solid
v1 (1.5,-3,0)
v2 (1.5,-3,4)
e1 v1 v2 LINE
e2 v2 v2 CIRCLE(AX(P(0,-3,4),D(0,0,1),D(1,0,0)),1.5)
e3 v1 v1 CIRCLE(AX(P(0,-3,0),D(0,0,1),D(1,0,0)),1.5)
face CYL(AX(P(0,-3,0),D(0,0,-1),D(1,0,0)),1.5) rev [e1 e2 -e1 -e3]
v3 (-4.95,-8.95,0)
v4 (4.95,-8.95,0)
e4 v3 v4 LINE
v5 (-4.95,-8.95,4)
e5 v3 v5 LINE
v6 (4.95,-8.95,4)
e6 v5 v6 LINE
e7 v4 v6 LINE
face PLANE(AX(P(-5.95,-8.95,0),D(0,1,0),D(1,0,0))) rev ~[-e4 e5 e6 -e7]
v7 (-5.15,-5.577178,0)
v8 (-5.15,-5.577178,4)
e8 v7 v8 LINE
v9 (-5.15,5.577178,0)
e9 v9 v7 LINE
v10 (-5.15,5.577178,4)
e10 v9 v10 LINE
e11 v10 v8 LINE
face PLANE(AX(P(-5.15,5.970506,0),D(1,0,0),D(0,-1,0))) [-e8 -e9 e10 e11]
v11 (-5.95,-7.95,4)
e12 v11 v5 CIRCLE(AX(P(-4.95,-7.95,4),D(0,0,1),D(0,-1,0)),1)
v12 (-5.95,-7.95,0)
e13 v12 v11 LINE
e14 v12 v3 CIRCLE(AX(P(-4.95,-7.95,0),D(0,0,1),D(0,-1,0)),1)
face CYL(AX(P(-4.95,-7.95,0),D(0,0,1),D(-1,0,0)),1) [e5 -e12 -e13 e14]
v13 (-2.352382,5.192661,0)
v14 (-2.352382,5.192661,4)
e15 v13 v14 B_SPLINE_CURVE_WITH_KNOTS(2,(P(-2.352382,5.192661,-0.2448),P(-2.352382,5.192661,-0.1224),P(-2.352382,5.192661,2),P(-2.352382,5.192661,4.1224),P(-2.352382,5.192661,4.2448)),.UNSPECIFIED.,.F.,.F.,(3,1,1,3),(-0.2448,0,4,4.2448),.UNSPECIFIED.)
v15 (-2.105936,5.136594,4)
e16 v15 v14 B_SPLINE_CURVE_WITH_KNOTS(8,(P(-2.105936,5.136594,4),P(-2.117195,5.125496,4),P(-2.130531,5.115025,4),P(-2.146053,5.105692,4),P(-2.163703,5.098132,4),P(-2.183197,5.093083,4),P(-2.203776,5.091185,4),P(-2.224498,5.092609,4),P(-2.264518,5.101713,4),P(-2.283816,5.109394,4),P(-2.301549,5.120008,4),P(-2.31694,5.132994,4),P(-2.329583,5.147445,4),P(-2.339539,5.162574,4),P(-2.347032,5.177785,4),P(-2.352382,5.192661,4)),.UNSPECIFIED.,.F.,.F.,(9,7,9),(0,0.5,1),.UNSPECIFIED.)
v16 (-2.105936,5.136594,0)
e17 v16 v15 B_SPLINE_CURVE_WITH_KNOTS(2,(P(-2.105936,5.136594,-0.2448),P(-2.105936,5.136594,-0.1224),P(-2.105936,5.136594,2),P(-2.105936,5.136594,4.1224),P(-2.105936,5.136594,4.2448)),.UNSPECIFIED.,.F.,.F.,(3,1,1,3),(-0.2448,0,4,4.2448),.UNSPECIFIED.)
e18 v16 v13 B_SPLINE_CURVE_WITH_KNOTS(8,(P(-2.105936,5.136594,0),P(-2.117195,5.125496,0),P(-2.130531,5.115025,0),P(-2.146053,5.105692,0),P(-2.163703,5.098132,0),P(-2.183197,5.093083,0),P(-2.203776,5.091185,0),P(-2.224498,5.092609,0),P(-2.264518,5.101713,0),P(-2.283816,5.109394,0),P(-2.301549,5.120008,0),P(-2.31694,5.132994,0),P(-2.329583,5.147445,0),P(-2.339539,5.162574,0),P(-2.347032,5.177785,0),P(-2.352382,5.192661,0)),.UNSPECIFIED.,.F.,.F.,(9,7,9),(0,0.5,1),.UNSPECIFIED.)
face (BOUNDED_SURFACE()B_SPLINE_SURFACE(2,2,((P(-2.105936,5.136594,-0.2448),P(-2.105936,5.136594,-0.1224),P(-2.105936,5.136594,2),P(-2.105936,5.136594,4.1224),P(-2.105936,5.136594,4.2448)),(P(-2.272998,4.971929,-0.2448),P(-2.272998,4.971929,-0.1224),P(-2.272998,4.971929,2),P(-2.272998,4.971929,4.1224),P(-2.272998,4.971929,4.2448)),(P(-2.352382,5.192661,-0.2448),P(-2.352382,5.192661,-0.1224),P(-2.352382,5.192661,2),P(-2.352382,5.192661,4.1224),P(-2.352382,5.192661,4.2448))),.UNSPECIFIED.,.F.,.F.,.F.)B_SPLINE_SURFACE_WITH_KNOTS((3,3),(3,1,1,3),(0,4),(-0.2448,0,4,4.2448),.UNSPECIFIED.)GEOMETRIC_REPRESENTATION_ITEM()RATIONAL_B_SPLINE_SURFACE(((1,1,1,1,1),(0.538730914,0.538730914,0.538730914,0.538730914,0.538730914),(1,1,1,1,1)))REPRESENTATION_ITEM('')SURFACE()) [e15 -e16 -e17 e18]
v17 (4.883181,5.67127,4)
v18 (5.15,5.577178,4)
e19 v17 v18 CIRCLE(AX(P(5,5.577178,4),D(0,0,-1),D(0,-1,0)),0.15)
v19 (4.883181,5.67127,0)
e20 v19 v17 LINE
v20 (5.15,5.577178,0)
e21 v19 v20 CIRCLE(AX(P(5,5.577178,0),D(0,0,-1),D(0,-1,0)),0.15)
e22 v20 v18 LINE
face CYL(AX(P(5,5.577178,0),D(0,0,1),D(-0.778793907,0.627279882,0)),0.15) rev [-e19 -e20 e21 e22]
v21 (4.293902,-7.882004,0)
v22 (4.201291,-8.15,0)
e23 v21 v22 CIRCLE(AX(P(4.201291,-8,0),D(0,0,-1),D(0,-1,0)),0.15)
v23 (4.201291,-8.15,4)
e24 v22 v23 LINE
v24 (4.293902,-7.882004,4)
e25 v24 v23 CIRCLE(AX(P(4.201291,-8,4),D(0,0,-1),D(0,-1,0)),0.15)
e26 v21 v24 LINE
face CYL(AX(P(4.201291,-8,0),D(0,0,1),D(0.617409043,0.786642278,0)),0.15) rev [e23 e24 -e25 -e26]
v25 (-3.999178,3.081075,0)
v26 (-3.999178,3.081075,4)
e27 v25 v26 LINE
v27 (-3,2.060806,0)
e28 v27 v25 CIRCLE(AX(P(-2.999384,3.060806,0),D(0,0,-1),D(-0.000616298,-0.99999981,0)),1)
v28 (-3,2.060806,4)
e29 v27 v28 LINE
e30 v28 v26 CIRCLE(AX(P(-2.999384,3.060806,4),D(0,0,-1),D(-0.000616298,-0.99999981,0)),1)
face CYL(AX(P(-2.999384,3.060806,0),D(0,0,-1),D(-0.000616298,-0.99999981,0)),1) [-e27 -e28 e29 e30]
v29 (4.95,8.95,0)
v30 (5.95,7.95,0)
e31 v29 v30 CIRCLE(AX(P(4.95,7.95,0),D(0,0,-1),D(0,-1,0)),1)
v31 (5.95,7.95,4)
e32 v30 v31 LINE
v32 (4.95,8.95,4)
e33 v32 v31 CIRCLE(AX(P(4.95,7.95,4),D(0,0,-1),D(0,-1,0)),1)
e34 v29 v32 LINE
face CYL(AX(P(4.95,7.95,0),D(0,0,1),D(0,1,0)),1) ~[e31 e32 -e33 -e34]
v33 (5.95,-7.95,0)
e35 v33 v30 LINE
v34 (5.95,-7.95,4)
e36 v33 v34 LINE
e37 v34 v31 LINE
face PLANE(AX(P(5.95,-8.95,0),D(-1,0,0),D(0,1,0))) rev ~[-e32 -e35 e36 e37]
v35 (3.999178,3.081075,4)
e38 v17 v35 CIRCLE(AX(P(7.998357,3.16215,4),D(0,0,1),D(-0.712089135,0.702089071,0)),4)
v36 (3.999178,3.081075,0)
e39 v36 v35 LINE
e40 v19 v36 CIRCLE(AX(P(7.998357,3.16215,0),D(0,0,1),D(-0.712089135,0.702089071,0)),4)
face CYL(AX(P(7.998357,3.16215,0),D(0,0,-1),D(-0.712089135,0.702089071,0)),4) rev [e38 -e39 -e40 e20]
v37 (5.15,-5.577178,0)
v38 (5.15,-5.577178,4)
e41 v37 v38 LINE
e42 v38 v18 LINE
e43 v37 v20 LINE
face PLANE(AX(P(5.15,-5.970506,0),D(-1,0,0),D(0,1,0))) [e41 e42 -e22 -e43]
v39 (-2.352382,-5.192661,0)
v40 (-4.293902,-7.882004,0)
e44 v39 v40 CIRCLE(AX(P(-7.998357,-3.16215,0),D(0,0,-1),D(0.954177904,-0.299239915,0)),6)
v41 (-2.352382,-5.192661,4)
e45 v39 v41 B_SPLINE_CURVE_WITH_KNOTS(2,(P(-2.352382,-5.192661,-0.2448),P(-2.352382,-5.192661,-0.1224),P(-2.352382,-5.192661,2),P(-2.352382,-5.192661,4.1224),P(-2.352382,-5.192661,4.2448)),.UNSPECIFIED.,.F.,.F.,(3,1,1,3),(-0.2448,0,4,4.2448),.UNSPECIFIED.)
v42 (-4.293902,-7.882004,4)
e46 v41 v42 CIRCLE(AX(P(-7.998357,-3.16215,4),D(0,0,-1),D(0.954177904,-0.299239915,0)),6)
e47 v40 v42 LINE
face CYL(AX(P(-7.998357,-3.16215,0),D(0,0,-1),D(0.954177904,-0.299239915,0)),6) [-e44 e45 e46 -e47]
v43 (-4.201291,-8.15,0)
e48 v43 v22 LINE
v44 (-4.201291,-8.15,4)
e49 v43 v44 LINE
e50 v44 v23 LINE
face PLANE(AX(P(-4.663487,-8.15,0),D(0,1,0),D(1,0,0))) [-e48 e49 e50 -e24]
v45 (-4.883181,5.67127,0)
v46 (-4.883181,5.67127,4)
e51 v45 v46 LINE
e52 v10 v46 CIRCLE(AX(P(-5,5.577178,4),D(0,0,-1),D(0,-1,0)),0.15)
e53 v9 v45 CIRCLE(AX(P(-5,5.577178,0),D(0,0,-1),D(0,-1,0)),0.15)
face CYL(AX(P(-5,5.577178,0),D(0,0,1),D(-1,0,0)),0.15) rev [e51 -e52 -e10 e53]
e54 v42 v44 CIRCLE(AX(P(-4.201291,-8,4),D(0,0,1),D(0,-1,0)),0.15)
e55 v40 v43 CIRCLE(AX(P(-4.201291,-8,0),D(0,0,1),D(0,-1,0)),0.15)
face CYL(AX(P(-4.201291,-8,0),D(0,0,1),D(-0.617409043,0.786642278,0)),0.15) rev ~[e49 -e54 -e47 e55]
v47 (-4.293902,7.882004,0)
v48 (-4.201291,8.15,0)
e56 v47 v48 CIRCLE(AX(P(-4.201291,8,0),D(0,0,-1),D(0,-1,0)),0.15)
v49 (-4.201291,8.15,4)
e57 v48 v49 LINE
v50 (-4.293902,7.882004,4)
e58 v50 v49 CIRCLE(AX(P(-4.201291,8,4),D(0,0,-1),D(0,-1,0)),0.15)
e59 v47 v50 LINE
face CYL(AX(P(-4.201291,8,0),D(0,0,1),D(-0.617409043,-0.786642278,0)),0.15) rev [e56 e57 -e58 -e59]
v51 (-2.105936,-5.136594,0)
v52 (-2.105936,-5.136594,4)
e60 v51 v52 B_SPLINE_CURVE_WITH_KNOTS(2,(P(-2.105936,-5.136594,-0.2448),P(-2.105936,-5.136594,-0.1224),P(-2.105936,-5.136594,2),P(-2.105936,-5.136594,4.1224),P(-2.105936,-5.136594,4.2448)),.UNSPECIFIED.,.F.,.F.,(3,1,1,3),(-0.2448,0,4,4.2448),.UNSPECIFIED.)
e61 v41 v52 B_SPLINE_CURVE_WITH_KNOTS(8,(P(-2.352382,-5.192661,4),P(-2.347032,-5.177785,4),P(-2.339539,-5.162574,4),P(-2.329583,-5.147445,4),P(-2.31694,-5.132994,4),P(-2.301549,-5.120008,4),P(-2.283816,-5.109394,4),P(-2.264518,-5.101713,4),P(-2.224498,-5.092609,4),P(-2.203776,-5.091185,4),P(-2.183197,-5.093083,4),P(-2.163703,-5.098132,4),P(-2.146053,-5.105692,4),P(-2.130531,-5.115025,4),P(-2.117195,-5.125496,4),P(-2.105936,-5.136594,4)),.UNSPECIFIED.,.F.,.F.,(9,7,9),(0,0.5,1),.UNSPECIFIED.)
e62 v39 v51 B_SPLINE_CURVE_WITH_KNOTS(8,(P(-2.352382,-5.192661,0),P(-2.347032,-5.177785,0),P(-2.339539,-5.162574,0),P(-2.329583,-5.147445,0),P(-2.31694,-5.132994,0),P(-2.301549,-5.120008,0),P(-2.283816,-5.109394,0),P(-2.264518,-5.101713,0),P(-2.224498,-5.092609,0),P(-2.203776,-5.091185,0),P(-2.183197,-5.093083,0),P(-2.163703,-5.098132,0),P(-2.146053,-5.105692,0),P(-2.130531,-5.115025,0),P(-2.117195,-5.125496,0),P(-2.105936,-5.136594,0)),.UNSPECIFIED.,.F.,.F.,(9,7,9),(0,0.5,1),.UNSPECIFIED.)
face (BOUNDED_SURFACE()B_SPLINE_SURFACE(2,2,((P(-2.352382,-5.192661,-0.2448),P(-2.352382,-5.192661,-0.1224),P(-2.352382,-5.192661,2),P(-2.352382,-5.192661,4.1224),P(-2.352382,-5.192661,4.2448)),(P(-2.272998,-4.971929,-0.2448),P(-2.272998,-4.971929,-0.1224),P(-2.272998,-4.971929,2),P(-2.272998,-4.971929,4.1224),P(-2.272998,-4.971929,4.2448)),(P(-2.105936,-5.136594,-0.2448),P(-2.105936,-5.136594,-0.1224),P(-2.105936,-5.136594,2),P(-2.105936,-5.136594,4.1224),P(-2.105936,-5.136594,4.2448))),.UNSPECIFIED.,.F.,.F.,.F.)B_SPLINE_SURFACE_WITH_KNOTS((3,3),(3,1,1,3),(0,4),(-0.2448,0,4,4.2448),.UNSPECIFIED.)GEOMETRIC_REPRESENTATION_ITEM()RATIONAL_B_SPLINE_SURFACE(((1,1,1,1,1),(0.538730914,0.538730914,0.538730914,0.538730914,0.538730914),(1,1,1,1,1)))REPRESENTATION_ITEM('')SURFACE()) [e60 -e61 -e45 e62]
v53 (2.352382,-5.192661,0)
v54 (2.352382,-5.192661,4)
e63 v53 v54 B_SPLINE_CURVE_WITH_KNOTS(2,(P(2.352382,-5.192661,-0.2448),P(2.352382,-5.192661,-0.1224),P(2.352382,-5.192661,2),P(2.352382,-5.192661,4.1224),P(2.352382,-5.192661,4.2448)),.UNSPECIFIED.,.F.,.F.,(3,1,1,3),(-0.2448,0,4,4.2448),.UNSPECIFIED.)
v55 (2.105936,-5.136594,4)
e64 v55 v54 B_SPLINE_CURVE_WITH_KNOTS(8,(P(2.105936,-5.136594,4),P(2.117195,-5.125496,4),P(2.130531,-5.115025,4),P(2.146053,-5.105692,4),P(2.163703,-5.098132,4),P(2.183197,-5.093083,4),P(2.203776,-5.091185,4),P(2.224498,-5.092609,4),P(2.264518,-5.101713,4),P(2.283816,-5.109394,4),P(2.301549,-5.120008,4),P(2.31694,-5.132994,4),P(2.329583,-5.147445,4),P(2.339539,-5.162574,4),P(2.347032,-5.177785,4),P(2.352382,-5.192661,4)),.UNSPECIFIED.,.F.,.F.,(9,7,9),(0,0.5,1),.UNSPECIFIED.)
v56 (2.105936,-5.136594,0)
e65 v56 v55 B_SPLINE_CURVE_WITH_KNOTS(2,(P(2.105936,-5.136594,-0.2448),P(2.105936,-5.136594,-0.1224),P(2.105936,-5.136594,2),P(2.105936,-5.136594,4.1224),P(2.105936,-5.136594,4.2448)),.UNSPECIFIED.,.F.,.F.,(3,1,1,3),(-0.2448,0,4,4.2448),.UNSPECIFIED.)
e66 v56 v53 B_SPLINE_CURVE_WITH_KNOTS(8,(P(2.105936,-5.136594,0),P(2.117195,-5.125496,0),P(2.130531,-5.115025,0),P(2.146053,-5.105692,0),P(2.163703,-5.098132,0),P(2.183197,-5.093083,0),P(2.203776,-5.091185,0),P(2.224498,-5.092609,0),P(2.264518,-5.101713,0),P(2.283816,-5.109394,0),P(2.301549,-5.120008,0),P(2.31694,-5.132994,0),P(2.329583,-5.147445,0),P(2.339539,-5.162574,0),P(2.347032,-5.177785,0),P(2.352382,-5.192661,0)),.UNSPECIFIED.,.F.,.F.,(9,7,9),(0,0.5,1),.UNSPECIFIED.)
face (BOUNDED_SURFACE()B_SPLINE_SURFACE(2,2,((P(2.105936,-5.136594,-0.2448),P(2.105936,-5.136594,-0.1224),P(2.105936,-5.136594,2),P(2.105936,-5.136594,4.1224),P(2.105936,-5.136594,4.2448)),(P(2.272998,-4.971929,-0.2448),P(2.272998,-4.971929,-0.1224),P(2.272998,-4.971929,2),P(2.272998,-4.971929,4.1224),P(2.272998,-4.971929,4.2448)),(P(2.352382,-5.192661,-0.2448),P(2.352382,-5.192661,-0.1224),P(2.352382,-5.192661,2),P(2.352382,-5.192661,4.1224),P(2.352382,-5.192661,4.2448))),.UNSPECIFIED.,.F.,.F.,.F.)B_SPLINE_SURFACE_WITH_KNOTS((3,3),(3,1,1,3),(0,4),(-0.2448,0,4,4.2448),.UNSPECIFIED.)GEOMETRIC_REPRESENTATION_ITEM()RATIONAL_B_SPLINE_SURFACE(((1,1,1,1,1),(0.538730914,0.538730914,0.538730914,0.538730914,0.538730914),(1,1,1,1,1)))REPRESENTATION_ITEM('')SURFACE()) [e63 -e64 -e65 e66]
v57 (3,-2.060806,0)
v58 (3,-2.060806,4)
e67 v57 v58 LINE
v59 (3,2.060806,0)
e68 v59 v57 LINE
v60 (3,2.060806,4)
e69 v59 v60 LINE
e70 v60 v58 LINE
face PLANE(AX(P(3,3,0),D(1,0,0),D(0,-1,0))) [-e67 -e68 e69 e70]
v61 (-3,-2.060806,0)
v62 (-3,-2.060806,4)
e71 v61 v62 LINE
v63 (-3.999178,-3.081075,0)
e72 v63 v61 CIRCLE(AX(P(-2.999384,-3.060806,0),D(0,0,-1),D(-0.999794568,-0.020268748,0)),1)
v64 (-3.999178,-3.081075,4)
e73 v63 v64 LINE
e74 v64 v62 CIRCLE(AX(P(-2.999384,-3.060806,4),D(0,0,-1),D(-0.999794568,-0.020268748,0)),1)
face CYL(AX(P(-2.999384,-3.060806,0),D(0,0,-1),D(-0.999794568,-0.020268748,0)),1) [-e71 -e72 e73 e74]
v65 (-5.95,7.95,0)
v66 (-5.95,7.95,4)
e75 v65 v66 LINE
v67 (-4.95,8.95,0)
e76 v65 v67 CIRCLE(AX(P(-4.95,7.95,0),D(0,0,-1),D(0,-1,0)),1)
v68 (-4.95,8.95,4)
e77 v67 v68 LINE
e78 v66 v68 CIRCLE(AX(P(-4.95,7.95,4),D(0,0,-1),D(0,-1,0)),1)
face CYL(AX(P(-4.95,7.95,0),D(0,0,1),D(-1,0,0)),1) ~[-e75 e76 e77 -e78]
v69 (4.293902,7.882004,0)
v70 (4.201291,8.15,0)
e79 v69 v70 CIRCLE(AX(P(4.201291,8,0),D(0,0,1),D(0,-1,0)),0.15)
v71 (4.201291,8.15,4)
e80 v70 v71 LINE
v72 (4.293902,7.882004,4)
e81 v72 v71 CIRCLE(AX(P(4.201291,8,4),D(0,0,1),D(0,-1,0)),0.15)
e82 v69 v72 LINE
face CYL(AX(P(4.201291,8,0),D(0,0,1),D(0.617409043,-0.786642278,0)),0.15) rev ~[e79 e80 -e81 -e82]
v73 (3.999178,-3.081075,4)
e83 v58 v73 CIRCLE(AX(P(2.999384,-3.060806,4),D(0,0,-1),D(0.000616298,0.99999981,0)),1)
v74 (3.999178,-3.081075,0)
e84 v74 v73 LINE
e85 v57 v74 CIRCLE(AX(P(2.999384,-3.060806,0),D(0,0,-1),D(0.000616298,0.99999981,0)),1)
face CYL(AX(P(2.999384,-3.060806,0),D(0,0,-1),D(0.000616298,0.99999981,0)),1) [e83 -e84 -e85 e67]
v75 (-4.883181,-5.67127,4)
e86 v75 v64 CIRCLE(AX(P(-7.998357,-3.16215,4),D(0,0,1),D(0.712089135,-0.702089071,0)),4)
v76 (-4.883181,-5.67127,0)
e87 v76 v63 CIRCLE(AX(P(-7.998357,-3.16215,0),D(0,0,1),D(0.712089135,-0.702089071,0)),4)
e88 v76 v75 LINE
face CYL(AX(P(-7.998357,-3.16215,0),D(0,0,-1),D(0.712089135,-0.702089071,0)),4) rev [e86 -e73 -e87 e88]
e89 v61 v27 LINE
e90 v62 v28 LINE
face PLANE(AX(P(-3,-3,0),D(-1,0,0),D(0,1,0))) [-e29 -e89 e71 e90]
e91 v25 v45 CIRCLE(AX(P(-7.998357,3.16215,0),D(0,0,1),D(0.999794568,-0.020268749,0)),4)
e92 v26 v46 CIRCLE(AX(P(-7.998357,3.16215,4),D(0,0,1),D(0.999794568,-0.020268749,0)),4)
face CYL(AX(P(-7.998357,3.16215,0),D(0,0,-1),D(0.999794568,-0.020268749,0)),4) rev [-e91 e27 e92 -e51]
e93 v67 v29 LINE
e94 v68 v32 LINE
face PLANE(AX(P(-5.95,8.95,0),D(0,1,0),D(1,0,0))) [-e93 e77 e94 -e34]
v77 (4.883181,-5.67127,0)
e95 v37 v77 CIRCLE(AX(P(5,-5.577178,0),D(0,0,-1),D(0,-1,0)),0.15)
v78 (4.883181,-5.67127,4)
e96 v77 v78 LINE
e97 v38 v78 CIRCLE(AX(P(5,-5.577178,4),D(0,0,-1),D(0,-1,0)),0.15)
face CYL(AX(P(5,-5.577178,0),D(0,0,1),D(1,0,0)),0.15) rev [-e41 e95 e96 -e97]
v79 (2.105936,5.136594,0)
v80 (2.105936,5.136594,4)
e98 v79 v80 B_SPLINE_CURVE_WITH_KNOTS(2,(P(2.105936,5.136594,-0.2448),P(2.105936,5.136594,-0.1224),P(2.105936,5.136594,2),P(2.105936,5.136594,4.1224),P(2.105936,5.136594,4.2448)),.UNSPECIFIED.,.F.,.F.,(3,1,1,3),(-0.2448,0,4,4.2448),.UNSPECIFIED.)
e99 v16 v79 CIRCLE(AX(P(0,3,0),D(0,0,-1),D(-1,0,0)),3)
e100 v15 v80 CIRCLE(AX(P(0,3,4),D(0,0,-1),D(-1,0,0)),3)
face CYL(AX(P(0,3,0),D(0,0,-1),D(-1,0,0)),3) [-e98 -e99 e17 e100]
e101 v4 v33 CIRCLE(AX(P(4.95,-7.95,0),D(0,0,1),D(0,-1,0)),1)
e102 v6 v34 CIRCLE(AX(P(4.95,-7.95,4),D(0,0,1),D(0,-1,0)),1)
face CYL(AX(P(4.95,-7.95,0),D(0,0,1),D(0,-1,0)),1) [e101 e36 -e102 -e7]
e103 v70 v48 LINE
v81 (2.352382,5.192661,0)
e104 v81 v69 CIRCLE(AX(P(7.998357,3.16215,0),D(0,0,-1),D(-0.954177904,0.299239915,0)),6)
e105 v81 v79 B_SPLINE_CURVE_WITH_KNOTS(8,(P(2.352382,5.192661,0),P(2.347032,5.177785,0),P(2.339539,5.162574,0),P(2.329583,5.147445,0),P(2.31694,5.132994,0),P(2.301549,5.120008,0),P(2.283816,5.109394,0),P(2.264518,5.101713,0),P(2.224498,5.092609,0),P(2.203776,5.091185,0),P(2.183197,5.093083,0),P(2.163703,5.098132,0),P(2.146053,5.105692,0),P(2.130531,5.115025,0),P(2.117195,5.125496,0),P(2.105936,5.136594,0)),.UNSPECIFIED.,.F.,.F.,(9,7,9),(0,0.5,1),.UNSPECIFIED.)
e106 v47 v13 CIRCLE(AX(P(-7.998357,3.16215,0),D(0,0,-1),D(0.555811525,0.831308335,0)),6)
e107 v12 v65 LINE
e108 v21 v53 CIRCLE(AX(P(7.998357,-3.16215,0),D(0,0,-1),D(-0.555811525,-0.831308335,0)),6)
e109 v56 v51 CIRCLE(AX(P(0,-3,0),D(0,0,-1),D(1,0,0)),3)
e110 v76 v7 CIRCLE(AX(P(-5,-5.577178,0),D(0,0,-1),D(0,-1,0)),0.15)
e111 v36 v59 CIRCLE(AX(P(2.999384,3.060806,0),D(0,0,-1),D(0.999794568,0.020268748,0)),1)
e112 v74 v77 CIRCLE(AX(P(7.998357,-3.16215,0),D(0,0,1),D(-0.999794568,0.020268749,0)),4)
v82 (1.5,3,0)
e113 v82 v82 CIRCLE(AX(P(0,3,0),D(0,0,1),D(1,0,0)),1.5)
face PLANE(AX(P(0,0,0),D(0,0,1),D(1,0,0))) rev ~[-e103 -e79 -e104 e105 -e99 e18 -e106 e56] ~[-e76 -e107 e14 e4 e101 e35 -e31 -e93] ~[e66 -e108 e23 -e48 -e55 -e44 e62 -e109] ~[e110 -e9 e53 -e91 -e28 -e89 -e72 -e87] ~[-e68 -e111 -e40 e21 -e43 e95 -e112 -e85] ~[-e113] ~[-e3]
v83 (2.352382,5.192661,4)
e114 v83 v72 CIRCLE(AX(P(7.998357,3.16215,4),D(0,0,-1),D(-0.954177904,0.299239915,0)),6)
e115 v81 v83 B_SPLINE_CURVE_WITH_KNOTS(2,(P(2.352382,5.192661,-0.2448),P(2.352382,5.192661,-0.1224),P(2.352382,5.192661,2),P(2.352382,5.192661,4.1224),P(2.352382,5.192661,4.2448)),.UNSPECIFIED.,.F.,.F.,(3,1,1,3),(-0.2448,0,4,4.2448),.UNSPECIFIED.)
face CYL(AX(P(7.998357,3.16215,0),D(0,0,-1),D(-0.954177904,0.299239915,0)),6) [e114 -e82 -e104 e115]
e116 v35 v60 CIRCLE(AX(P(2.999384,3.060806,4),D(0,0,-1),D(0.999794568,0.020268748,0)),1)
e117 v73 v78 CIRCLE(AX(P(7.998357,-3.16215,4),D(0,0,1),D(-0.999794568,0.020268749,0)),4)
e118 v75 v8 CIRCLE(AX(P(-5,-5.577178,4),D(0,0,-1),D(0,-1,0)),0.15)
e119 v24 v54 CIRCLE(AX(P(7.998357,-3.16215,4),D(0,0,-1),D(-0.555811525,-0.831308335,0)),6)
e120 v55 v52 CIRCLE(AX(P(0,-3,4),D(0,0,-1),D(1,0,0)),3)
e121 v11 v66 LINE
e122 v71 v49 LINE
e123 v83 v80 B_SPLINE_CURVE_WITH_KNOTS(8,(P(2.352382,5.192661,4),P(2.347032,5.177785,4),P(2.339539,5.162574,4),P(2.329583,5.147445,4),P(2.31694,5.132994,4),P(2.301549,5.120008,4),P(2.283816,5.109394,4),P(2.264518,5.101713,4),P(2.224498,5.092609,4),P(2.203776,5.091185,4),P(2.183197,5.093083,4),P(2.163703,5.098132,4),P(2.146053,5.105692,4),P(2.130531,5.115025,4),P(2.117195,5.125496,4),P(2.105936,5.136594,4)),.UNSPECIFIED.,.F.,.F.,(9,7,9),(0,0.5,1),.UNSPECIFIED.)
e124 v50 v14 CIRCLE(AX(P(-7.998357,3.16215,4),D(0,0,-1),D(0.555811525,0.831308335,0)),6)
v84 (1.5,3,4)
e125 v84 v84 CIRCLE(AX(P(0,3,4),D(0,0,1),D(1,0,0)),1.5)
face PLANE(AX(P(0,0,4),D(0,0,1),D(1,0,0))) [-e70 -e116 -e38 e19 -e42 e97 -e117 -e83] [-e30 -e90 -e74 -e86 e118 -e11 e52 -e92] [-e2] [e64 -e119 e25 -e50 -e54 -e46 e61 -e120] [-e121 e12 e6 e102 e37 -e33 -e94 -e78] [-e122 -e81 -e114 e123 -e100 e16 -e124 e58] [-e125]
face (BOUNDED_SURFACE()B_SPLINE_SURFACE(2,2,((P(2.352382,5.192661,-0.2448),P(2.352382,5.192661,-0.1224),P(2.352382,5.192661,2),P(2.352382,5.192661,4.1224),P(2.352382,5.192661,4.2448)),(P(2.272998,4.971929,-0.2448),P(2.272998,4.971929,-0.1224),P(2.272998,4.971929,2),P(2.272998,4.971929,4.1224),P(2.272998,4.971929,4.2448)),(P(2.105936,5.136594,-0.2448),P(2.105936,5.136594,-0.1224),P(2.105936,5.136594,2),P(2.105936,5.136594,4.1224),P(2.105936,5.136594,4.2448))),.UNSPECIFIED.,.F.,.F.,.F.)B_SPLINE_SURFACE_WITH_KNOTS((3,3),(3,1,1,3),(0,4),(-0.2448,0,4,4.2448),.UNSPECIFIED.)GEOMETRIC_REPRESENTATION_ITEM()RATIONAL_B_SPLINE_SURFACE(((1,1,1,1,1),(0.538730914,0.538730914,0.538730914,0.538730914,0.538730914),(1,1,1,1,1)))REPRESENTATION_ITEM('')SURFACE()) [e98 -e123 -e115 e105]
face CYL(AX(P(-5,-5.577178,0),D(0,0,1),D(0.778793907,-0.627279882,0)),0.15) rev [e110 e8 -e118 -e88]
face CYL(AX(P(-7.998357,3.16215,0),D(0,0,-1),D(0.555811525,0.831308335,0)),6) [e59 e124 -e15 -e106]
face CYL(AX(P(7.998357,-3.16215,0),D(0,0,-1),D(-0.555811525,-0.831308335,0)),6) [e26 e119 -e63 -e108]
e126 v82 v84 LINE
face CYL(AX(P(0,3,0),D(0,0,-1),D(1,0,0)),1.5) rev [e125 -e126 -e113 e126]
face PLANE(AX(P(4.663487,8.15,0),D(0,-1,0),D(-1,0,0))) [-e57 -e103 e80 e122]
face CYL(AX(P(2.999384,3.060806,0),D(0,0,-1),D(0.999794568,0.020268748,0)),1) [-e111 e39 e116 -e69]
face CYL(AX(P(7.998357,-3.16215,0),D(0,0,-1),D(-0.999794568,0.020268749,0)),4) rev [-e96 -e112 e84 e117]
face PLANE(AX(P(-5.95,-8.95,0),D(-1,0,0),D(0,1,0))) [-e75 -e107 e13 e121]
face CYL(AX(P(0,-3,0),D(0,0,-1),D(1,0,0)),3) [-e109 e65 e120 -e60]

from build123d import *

# Parameters (mm, degrees)
SKETCH1_R           = 1.5
BOSS_EXTRUDE1_DEPTH = 4
SKETCH3_W           = 11.9
SKETCH3_H           = 17.9
BOSS_EXTRUDE2_DEPTH = 4
FILLET1_R           = 1
FILLET2_R           = 0.15


with BuildPart() as part:
    # Sketch1 → Boss-Extrude1 (new body)
    with BuildSketch(Plane.XY):
        with BuildLine():
            Line((3, 3), (3, -3))
            ThreePointArc((3, -3), (0, -6), (-3, -3))
            Line((-3, -3), (-3, 3))
            ThreePointArc((-3, 3), (0, 6), (3, 3))
        make_face()
        with Locations((0, 3)):
            Circle(SKETCH1_R, mode=Mode.SUBTRACT)
        with Locations((0, -3)):
            Circle(SKETCH1_R, mode=Mode.SUBTRACT)
    extrude(amount=BOSS_EXTRUDE1_DEPTH)

    # Sketch3 → Boss-Extrude2 (add)
    with BuildSketch(Plane.XY):
        Rectangle(SKETCH3_W, SKETCH3_H)
        with BuildLine():
            Line((3, 2.060806436), (3, 3))
            ThreePointArc((3, 3), (2.812460431, 4.044062414), (2.273289117, 4.957589484))
            ThreePointArc((2.273289117, 4.957589484), (3.195390382, 6.758191712), (4.663487388, 8.15))
            Line((4.663487388, 8.15), (-4.663487388, 8.15))
            ThreePointArc((-4.663487388, 8.15), (-3.195390382, 6.758191712), (-2.273289117, 4.957589484))
            ThreePointArc((-2.273289117, 4.957589484), (-2.812460431, 4.044062414), (-3, 3))
            Line((-3, 3), (-3, 2.060806436))
            ThreePointArc((-3, 2.060806436), (-3.713836261, 2.361122359), (-3.999178271, 3.081074995))
            ThreePointArc((-3.999178271, 3.081074995), (-4.282258248, 4.642222106), (-5.15, 5.970506272))
            Line((-5.15, 5.970506272), (-5.15, -5.970506272))
            ThreePointArc((-5.15, -5.970506272), (-4.282258248, -4.642222106), (-3.999178271, -3.081074995))
            ThreePointArc((-3.999178271, -3.081074995), (-3.713836261, -2.361122359), (-3, -2.060806436))
            Line((-3, -2.060806436), (-3, -3))
            ThreePointArc((-3, -3), (-2.812460431, -4.044062414), (-2.273289117, -4.957589484))
            ThreePointArc((-2.273289117, -4.957589484), (-3.195390382, -6.758191712), (-4.663487388, -8.15))
            Line((-4.663487388, -8.15), (4.663487388, -8.15))
            ThreePointArc((4.663487388, -8.15), (3.195390382, -6.758191712), (2.273289117, -4.957589484))
            ThreePointArc((2.273289117, -4.957589484), (2.812460431, -4.044062414), (3, -3))
            Line((3, -3), (3, -2.060806436))
            ThreePointArc((3, -2.060806436), (3.713836261, -2.361122359), (3.999178271, -3.081074995))
            ThreePointArc((3.999178271, -3.081074995), (4.282258248, -4.642222106), (5.15, -5.970506272))
            Line((5.15, -5.970506272), (5.15, 5.970506272))
            ThreePointArc((5.15, 5.970506272), (4.282258248, 4.642222106), (3.999178271, 3.081074995))
            ThreePointArc((3.999178271, 3.081074995), (3.713836261, 2.361122359), (3, 2.060806436))
        make_face(mode=Mode.SUBTRACT)
    extrude(amount=BOSS_EXTRUDE2_DEPTH)

    # Fillet1
    fillet1_edges = [part.edges().sort_by_distance(p)[0] for p in [
        (5.95, 8.95, 2),
        (-5.95, 8.95, 2),
        (-5.95, -8.95, 2),
        (5.95, -8.95, 2),
    ]]
    fillet(fillet1_edges, radius=FILLET1_R)

    # Fillet2
    fillet2_edges = [part.edges().sort_by_distance(p)[0] for p in [
        (-5.15, 5.970506272, 2),
        (-5.15, -5.970506272, 2),
        (-2.273289117, -4.957589484, 2),
        (-4.663487388, -8.15, 2),
        (4.663487388, -8.15, 2),
        (2.273289117, -4.957589484, 2),
        (5.15, -5.970506272, 2),
        (5.15, 5.970506272, 2),
        (2.273289117, 4.957589484, 2),
        (4.663487388, 8.15, 2),
        (-4.663487388, 8.15, 2),
        (-2.273289117, 4.957589484, 2),
    ]]
    fillet(fillet2_edges, radius=FILLET2_R)


solid = part.part
